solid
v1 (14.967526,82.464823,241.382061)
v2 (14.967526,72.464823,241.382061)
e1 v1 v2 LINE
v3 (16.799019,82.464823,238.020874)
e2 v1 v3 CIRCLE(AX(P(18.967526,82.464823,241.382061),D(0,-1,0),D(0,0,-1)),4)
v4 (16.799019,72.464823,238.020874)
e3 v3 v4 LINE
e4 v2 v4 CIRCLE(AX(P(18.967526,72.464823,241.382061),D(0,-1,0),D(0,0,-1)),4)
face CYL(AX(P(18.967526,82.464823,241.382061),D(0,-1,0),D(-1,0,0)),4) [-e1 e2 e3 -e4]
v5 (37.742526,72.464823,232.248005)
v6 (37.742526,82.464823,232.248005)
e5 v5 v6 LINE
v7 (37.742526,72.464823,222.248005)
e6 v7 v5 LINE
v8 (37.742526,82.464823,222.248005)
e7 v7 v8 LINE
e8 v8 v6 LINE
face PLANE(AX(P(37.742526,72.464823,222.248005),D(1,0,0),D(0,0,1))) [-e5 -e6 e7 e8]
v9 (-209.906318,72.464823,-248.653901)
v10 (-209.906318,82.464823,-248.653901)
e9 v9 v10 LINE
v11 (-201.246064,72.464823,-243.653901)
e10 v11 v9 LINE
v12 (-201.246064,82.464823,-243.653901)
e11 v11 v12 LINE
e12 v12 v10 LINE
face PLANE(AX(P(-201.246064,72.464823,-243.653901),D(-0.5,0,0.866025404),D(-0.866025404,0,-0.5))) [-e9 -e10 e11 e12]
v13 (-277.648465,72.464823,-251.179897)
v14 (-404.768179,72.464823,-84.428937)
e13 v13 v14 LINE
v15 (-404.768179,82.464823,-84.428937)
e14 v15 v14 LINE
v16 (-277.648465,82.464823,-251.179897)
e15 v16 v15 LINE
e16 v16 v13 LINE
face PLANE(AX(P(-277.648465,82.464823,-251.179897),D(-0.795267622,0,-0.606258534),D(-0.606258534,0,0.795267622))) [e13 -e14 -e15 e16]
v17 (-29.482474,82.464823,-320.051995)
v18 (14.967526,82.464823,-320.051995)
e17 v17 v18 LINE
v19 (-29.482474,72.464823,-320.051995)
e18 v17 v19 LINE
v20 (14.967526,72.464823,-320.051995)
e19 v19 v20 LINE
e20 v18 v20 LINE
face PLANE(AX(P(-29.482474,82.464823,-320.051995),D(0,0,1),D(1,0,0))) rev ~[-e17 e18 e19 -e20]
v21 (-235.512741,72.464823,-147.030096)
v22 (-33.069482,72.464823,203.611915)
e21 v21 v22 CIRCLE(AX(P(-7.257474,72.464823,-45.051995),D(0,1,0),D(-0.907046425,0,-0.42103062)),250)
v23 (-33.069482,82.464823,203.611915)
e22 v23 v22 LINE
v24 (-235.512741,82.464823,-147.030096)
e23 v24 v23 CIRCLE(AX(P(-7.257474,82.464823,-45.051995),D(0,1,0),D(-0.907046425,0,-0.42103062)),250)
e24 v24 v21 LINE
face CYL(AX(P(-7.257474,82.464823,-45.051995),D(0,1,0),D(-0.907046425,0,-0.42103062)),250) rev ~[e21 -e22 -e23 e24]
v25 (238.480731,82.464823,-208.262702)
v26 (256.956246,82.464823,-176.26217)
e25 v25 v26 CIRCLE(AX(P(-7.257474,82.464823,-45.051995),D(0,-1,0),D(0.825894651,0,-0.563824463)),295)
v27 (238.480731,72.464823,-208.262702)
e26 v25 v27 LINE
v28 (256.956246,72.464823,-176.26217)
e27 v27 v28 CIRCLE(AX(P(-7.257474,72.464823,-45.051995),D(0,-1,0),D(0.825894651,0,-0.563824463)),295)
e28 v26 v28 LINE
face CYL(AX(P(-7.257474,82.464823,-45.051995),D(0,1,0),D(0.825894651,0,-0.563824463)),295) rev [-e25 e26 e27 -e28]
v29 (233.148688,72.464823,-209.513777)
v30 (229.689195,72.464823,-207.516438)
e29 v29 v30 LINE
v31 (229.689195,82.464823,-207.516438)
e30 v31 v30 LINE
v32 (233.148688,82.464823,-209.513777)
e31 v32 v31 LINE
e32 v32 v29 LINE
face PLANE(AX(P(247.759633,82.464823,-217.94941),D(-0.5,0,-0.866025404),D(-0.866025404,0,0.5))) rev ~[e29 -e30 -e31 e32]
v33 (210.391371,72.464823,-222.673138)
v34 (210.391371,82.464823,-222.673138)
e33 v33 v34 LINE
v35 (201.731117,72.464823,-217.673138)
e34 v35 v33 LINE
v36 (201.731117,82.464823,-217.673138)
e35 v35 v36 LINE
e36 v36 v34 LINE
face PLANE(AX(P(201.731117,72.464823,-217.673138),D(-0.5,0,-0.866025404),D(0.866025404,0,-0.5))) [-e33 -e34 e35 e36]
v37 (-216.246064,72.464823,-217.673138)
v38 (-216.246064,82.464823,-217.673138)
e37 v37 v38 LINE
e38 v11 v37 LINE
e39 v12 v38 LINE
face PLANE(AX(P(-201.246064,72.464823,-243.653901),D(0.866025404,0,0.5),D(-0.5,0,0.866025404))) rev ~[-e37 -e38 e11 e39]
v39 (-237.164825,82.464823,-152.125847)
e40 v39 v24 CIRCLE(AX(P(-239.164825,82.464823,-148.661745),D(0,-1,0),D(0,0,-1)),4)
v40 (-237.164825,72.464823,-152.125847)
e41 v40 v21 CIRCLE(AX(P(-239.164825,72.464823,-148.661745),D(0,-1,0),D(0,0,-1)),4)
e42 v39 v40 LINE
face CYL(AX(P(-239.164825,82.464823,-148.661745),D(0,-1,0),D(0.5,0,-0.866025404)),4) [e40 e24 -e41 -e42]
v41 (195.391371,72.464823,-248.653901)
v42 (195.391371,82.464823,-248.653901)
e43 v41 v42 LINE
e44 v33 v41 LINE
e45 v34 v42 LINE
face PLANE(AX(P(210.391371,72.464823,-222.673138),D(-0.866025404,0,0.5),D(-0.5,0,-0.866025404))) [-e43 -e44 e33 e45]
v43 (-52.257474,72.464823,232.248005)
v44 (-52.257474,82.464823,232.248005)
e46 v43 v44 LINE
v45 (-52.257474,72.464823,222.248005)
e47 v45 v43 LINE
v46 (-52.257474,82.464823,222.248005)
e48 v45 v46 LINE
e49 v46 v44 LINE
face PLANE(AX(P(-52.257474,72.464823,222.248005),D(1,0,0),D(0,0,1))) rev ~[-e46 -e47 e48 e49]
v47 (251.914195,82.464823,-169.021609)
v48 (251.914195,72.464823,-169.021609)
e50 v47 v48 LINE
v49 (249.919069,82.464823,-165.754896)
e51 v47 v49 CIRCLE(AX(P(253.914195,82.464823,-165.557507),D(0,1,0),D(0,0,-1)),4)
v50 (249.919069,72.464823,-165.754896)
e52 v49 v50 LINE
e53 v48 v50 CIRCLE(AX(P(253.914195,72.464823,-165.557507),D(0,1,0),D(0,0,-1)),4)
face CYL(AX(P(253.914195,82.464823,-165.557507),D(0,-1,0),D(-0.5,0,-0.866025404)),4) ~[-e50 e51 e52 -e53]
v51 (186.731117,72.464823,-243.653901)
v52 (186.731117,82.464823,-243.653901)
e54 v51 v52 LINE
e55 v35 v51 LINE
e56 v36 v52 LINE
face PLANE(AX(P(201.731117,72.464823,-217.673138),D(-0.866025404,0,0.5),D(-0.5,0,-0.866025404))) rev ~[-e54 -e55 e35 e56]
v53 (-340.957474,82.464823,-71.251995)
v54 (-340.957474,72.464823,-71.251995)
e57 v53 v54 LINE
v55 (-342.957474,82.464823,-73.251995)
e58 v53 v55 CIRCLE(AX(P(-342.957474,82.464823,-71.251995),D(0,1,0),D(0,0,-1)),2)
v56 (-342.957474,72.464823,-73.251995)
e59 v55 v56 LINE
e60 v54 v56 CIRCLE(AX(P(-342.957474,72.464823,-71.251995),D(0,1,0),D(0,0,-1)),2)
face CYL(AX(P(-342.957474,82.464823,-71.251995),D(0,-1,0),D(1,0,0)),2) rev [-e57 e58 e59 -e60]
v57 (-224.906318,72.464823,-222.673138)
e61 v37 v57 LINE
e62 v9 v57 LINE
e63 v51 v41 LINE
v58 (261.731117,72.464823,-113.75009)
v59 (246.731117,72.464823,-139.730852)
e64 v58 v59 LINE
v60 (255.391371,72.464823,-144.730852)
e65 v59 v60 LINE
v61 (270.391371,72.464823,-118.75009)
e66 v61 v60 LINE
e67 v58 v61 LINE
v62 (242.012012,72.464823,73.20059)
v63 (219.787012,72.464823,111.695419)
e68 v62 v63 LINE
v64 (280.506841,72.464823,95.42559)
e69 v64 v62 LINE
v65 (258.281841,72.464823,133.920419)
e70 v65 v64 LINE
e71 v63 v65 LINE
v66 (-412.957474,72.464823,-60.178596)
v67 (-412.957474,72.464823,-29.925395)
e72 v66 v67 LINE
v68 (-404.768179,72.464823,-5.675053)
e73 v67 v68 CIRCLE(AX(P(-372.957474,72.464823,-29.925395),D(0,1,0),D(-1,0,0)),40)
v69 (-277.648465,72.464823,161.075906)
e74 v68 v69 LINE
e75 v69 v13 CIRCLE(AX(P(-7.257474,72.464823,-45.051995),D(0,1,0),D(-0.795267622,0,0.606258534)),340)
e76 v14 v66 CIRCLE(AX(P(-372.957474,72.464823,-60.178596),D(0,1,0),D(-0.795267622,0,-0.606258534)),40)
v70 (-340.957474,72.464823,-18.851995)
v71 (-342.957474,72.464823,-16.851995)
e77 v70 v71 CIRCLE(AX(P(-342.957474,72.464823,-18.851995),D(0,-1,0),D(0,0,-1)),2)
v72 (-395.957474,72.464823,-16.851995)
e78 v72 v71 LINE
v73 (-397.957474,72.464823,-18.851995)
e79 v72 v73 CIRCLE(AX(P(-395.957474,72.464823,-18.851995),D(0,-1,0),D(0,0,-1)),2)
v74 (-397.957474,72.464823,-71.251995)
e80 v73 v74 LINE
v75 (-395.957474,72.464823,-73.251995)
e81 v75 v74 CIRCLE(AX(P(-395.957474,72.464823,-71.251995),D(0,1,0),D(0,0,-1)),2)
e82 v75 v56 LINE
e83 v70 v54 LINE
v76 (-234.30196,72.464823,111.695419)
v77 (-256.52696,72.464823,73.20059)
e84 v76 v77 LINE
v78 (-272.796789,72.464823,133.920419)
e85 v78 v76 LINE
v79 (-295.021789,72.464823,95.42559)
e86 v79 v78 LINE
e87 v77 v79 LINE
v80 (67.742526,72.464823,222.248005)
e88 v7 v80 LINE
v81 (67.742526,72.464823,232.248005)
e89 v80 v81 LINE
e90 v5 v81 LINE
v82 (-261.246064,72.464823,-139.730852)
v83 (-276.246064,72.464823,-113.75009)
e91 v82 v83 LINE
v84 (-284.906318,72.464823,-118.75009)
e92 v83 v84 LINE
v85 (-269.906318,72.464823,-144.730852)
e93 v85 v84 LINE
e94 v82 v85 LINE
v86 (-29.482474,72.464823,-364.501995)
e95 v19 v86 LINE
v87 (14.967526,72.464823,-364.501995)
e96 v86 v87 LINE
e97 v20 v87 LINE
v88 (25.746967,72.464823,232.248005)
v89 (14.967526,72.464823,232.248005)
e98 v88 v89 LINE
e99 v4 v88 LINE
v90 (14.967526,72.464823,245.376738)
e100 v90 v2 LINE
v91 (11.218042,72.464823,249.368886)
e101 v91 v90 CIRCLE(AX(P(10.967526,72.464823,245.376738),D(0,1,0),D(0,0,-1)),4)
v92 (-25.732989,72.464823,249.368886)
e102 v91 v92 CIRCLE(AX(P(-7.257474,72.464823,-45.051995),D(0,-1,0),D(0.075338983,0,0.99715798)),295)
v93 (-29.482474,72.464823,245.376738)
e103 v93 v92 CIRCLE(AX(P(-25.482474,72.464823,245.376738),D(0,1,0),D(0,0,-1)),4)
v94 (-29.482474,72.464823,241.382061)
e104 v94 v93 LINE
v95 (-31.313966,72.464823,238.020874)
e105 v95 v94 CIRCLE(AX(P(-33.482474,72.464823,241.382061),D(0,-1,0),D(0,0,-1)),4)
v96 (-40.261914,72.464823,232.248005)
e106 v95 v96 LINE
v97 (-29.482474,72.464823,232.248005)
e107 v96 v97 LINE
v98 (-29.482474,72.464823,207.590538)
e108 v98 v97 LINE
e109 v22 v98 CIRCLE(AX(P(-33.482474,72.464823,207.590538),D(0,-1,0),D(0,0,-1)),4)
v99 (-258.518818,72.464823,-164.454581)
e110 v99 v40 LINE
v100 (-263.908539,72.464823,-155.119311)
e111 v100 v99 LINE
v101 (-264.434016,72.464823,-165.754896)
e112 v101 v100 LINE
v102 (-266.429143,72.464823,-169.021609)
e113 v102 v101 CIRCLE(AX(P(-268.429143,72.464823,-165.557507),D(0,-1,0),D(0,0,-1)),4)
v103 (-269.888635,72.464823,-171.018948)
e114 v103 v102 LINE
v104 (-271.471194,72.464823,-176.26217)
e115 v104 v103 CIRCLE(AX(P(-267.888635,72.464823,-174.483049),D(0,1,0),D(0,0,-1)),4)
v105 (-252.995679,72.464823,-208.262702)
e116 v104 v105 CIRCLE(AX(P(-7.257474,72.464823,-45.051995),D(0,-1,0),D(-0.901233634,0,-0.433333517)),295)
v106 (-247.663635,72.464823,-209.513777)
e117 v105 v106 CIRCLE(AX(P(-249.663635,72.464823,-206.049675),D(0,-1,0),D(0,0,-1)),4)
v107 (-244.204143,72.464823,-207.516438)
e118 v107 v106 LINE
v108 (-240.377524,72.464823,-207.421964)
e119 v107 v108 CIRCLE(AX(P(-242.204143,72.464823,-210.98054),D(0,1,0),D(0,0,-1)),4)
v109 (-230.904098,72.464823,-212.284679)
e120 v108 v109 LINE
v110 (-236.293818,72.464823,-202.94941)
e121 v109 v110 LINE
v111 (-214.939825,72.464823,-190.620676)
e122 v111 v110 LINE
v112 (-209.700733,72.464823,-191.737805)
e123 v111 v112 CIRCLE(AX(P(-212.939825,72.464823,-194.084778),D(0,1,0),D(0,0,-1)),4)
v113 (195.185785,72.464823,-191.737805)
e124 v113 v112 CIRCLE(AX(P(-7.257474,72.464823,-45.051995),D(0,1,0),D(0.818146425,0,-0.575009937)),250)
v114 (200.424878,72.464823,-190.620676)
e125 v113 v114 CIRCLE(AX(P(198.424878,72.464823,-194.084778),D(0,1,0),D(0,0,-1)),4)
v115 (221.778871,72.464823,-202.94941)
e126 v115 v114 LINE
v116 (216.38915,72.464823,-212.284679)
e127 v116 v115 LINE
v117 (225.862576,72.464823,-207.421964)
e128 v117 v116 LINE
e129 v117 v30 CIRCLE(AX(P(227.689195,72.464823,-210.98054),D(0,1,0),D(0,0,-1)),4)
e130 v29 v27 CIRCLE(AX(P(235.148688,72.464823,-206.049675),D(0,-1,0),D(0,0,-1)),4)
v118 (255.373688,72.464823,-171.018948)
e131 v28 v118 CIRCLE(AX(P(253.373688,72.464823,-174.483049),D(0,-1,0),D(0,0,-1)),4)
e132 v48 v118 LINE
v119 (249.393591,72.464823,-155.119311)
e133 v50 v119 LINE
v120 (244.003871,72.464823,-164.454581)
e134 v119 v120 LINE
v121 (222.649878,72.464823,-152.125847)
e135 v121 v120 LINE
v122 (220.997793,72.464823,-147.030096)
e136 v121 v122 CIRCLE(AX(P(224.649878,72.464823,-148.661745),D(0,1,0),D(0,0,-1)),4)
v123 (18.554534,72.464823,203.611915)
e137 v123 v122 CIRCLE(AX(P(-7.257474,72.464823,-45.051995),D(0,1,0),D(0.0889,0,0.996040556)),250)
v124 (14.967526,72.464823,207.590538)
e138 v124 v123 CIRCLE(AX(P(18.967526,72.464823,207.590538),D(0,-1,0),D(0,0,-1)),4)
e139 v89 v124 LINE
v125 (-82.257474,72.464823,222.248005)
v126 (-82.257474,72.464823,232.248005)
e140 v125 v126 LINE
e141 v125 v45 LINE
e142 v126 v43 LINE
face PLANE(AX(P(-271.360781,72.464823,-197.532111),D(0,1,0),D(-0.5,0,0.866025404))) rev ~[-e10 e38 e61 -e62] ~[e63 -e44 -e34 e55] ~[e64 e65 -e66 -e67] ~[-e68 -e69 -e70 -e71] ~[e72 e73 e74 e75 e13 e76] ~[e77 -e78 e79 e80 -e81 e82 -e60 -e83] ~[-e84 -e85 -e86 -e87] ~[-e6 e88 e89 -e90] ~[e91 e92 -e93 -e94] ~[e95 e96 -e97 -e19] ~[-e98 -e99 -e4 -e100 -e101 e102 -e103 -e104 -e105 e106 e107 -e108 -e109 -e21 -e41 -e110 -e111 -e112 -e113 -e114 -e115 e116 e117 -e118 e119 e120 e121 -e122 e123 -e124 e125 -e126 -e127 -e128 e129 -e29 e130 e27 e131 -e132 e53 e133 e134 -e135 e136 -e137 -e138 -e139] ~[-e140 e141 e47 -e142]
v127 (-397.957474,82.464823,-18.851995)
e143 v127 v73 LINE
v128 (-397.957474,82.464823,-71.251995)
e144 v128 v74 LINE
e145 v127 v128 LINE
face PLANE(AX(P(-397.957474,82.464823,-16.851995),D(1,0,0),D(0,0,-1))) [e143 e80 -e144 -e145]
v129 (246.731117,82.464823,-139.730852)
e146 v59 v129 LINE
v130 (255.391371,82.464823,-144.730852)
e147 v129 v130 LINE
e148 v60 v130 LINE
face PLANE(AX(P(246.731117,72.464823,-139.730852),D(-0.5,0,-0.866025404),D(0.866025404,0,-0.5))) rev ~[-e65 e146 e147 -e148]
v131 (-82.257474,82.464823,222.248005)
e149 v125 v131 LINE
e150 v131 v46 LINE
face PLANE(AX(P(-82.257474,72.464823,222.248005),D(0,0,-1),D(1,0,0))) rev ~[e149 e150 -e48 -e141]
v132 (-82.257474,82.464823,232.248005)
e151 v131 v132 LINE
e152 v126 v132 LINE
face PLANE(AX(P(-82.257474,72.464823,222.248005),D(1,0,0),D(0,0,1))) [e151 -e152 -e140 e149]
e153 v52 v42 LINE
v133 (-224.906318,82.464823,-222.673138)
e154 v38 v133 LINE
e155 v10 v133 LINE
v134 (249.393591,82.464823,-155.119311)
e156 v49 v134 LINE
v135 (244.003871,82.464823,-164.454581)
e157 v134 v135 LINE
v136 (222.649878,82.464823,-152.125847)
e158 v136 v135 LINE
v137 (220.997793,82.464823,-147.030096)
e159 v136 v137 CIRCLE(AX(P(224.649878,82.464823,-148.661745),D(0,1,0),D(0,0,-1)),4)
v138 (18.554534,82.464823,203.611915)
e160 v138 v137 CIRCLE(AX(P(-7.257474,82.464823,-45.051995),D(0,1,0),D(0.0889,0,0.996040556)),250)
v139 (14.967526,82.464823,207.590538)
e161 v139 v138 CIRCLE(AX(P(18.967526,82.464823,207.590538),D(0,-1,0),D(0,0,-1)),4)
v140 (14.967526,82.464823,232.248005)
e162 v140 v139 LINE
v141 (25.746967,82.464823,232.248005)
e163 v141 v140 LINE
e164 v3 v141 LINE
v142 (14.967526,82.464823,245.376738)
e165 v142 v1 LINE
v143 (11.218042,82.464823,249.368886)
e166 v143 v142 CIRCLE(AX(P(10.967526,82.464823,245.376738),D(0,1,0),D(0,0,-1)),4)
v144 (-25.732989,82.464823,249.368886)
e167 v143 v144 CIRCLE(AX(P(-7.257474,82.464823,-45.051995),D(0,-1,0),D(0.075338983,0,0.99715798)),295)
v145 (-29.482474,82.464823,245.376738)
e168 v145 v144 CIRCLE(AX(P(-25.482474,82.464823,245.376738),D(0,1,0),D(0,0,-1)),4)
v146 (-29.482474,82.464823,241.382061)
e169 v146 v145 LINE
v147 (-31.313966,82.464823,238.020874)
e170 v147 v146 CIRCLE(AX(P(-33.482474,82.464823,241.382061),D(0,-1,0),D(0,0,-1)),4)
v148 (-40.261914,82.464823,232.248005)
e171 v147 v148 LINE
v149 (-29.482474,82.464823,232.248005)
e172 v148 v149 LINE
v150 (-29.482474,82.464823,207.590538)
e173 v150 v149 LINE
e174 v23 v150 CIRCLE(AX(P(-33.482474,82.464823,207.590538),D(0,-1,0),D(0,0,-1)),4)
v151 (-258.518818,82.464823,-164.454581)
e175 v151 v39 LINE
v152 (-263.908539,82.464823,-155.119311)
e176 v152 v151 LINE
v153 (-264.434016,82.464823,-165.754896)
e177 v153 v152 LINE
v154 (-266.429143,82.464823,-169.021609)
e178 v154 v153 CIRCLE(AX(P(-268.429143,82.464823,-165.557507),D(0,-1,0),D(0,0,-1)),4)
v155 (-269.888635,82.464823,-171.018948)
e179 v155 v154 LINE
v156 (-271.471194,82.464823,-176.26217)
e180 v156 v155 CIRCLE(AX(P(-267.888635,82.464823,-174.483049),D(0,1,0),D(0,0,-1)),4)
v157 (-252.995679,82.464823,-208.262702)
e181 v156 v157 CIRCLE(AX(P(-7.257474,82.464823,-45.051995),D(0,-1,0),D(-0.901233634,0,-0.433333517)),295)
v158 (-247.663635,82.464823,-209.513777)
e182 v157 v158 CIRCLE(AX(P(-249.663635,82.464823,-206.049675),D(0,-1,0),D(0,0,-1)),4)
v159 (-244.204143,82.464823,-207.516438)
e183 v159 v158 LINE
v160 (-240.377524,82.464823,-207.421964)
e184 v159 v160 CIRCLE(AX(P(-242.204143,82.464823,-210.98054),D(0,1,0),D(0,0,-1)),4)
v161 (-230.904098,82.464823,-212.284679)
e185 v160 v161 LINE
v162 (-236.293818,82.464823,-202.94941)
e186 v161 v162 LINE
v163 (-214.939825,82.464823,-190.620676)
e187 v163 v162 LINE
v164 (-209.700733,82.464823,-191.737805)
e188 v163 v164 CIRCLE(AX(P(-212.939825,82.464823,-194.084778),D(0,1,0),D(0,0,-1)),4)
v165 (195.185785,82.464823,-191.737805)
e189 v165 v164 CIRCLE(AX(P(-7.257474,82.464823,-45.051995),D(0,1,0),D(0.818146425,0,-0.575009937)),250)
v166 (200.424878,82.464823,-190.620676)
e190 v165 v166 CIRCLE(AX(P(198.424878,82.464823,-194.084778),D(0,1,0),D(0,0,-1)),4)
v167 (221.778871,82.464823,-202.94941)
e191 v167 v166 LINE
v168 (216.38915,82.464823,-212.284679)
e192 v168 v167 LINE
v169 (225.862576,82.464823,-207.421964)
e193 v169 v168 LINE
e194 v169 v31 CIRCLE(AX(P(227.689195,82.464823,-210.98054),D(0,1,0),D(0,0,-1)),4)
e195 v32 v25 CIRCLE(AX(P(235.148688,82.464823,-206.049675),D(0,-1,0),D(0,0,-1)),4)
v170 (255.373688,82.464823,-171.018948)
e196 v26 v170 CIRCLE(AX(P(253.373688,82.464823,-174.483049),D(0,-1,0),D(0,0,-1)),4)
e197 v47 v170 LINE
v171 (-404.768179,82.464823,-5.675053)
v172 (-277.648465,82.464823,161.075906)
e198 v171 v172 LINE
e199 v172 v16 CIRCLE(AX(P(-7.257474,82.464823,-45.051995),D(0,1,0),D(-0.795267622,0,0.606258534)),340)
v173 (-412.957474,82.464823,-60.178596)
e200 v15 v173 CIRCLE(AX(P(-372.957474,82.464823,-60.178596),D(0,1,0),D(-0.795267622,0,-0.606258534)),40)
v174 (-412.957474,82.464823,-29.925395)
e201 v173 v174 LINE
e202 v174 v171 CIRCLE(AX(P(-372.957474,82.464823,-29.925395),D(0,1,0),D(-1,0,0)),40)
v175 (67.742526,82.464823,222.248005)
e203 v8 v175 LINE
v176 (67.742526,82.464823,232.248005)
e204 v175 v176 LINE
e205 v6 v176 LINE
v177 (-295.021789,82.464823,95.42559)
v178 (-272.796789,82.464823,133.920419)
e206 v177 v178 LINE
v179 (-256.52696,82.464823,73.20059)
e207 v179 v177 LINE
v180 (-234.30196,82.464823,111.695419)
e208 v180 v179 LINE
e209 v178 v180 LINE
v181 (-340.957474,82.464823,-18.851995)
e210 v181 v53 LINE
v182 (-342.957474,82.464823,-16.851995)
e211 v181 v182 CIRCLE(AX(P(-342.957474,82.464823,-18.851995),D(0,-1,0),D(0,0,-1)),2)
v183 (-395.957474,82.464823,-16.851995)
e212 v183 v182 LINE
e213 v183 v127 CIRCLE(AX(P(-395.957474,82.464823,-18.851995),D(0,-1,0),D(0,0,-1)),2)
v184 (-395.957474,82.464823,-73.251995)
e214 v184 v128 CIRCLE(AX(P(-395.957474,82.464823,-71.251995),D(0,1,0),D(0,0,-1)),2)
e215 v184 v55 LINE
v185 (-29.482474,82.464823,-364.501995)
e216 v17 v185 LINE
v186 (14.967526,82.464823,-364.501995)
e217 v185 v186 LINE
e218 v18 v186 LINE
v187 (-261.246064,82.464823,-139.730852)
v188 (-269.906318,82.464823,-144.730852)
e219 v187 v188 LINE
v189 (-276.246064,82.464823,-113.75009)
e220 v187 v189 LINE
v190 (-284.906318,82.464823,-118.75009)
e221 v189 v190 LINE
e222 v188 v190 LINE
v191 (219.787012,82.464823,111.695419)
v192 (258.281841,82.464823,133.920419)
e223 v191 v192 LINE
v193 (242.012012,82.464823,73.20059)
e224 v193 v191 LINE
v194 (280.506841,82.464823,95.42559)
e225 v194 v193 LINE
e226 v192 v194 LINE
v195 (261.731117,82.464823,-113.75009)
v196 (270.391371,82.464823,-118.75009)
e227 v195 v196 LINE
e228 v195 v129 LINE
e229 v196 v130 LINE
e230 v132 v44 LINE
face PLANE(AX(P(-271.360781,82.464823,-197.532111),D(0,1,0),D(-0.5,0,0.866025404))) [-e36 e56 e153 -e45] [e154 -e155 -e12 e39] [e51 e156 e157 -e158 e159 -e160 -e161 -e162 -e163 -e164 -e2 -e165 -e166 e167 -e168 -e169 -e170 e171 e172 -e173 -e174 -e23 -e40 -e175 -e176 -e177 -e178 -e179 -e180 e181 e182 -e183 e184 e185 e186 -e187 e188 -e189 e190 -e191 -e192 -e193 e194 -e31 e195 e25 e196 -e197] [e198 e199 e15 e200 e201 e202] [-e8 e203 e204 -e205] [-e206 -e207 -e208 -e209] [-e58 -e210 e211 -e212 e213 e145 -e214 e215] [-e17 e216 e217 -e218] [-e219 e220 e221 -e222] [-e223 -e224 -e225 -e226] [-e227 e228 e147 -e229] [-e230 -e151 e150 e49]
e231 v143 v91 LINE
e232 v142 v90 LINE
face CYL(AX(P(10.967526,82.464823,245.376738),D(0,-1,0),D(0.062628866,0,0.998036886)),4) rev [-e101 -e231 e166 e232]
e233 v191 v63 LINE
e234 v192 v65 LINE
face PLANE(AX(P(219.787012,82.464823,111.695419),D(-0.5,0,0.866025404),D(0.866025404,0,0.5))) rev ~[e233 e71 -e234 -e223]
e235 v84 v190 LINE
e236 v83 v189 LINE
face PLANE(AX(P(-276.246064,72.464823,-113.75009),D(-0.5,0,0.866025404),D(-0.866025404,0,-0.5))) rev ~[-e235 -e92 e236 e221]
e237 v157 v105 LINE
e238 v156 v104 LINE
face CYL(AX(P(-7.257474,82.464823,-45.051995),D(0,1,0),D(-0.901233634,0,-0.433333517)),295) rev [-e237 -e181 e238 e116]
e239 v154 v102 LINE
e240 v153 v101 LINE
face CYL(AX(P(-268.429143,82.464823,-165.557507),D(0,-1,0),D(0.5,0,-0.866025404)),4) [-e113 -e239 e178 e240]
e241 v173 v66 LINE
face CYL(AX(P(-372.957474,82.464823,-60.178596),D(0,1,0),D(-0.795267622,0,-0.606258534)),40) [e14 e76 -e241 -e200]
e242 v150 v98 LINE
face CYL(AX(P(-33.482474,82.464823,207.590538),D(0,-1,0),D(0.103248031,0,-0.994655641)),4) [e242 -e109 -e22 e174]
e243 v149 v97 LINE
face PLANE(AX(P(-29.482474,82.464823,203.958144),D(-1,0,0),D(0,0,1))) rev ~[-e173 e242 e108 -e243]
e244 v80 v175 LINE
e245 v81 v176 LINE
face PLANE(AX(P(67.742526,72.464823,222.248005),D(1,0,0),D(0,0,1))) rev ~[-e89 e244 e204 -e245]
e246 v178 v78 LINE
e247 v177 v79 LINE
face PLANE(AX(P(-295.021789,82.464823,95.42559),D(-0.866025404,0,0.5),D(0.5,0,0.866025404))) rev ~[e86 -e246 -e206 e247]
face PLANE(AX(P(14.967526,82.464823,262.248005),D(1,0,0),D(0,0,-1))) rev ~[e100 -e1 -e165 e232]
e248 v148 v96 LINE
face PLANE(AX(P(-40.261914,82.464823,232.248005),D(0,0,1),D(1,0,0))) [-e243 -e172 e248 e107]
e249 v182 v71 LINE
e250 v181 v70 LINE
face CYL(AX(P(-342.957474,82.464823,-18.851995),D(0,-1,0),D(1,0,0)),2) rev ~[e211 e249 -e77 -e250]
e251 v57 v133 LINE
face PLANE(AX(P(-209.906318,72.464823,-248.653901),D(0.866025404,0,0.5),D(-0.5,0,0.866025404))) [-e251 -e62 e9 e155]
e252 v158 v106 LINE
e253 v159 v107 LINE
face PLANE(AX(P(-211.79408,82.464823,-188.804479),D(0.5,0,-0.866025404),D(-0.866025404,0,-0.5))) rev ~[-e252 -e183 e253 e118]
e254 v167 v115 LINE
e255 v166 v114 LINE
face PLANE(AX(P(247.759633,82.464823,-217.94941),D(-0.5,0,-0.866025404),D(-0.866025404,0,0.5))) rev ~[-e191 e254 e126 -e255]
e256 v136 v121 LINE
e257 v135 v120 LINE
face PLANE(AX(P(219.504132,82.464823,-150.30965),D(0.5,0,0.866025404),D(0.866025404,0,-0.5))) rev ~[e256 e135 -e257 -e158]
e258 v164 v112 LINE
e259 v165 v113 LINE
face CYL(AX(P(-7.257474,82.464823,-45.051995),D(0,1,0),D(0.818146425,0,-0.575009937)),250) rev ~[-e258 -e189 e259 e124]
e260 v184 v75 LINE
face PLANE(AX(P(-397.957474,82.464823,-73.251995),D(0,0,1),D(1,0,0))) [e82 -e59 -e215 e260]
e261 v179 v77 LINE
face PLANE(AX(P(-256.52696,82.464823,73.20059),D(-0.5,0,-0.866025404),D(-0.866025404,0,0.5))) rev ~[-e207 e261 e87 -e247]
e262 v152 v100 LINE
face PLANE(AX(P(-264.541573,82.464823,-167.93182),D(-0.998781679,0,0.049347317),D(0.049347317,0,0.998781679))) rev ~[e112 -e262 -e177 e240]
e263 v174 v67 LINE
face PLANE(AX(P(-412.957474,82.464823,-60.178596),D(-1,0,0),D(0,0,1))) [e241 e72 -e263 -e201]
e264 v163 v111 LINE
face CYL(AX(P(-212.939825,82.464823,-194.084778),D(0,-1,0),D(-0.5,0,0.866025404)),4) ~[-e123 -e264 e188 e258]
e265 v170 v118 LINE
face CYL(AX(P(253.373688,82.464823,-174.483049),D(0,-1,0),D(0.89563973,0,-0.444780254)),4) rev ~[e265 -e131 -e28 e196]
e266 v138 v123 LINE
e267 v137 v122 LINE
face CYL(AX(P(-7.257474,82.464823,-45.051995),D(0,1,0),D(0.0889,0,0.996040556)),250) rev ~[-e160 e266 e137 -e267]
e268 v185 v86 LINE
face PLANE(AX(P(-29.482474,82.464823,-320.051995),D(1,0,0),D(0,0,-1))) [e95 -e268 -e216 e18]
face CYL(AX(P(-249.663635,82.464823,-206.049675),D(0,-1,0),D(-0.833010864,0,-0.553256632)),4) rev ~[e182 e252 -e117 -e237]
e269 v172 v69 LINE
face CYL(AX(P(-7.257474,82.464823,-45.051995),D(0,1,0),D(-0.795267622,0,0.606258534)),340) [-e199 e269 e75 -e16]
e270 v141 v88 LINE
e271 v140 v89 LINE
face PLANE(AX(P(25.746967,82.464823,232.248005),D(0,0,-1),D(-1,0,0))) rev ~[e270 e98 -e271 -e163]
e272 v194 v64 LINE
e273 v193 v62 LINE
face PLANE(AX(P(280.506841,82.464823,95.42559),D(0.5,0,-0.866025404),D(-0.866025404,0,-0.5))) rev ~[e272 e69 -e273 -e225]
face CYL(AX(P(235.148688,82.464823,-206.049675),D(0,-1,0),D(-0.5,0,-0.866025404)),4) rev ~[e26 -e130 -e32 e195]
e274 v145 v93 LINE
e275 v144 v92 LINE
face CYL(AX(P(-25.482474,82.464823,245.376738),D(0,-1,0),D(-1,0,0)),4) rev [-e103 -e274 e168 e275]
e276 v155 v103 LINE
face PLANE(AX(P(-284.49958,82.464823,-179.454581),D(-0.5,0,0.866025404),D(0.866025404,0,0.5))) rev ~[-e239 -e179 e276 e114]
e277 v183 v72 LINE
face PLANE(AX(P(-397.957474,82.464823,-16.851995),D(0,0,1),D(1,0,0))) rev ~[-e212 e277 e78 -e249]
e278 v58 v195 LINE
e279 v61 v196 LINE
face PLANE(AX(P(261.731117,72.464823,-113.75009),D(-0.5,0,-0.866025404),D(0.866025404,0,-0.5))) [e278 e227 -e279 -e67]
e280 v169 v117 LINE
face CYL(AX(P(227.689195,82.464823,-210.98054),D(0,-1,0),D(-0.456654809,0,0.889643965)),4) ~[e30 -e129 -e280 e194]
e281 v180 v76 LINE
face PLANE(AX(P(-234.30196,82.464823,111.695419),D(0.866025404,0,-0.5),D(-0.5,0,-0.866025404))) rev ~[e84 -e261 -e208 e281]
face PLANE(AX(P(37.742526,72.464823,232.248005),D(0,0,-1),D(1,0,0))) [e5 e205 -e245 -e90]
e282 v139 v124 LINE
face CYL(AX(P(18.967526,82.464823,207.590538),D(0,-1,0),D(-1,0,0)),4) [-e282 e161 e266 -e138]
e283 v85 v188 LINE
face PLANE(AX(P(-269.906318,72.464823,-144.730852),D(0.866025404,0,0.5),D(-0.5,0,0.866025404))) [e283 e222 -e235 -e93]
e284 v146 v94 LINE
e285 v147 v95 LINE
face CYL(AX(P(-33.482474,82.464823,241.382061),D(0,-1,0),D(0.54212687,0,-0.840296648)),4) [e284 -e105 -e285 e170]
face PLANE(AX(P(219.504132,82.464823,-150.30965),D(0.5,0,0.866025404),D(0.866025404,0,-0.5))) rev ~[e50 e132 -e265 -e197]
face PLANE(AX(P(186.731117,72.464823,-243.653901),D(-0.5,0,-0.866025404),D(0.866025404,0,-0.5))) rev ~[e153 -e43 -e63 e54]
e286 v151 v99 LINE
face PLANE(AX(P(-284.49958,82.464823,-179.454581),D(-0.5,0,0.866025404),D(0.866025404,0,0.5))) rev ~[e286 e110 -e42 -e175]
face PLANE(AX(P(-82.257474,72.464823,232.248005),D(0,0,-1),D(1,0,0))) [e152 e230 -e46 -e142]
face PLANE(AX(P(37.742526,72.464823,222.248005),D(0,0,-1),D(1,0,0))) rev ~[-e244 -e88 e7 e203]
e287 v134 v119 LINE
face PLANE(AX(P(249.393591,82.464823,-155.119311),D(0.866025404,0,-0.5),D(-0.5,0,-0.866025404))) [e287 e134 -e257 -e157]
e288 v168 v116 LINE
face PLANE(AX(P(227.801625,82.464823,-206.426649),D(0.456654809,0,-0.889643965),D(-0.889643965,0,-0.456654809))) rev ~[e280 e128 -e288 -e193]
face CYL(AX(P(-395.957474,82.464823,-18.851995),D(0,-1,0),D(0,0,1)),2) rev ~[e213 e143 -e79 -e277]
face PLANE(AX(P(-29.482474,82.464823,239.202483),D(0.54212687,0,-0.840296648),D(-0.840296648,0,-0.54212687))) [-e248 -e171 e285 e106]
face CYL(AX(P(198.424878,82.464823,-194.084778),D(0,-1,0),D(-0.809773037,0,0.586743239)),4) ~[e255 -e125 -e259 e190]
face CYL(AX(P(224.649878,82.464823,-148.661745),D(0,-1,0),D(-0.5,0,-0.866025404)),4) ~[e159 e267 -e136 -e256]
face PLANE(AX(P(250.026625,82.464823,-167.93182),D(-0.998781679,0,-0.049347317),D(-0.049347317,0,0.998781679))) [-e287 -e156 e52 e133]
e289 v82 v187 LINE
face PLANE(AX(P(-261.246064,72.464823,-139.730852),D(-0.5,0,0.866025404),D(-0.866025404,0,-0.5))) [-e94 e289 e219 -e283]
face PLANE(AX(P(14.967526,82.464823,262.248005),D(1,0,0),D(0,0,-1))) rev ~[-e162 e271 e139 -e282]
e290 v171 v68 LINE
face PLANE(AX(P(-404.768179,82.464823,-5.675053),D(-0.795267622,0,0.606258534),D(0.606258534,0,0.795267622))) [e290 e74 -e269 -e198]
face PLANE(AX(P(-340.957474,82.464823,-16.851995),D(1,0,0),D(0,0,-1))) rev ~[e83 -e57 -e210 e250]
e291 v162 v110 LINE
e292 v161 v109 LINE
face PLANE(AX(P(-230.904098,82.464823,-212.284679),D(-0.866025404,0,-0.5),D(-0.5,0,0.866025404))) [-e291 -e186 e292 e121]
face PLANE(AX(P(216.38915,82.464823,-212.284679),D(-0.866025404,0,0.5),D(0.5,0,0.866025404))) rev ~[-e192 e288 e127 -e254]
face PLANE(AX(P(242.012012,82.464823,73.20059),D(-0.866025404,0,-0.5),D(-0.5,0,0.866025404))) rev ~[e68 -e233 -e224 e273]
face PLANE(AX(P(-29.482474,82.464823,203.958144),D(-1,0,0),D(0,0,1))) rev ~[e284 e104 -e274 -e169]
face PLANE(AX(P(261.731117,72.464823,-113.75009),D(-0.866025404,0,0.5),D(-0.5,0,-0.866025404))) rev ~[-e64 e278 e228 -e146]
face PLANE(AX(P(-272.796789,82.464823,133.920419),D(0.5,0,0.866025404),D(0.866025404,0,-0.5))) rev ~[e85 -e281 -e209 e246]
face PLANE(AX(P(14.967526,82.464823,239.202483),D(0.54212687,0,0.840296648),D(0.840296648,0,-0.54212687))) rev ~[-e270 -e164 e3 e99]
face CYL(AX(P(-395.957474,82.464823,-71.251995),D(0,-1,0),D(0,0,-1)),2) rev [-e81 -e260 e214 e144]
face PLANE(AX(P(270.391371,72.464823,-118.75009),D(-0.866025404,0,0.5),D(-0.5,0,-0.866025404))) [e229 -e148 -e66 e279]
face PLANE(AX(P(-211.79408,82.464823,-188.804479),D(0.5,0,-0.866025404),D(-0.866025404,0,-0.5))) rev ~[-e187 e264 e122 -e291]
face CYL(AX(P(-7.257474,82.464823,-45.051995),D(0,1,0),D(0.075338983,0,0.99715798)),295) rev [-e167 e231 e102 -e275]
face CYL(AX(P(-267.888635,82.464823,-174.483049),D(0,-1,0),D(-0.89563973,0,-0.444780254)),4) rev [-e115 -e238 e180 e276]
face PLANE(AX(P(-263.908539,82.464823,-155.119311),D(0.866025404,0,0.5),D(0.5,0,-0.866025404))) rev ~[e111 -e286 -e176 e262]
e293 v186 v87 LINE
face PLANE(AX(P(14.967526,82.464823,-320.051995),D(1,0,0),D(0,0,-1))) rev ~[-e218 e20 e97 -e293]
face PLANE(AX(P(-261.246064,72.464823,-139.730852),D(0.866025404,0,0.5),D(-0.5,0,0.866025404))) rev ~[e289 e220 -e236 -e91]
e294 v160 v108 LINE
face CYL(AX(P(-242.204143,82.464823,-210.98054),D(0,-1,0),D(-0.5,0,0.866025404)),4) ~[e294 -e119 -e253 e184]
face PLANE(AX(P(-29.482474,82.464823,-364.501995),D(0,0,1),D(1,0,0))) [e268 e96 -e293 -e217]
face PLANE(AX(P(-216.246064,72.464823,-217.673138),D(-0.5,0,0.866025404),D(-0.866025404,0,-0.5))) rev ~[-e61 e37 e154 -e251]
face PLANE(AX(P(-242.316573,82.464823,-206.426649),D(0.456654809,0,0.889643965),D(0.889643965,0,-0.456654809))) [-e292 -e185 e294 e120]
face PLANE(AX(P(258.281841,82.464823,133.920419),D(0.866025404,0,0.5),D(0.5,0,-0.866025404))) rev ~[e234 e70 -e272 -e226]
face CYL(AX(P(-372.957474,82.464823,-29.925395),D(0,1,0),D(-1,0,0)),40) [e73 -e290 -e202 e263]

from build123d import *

# Parameters (mm, degrees)
SKETCH1_W           = 44.45
SKETCH1_H           = 44.45
SKETCH1_W_2         = 57
SKETCH1_H_2         = 56.4
BOSS_EXTRUDE1_DEPTH = 10
CUT_EXTRUDE1_DEPTH  = 10
CIRPATTERN1_COUNT   = 3
BOSS_EXTRUDE2_DEPTH = 10
CIRPATTERN2_COUNT   = 3
SKETCH7_W           = 30
SKETCH7_H           = 10
CUT_EXTRUDE2_DEPTH  = 10
CIRPATTERN3_COUNT   = 3
FILLET1_R           = 4
FILLET2_R           = 2


with BuildPart() as part:
    # Sketch1 → Boss-Extrude1 (new body)
    with BuildSketch(Plane(origin=(0, 82.464823413, 0), x_dir=(1, 0, 0), z_dir=(0, 1, 0))):
        with BuildLine():
            Line((-412.957473883, 60.178595798), (-412.957473883, 29.92539468))
            ThreePointArc((-412.957473883, 29.92539468), (-410.854889329, 17.127508038), (-404.768178759, 5.675053336))
            Line((-404.768178759, 5.675053336), (-277.648465327, -161.075906186))
            ThreePointArc((-277.648465327, -161.075906186), (332.742526117, 45.051995239), (-277.648465327, 251.179896664))
            Line((-277.648465327, 251.179896664), (-404.768178759, 84.428937143))
            ThreePointArc((-404.768178759, 84.428937143), (-410.854889329, 72.97648244), (-412.957473883, 60.178595798))
        make_face()
        with BuildLine():
            ThreePointArc((-234.019080144, 150.30965019), (-223.763824829, -79.948004761), (-29.482473883, -203.958143862))
            Line((-29.482473883, -203.958143862), (-29.482473883, -262.248004761))
            Line((-29.482473883, -262.248004761), (14.967526117, -262.248004761))
            Line((14.967526117, -262.248004761), (14.967526117, -203.958143862))
            ThreePointArc((14.967526117, -203.958143862), (209.248877063, -79.948004761), (219.504132378, 150.30965019))
            Line((219.504132378, 150.30965019), (269.9846327, 179.45458064))
            Line((269.9846327, 179.45458064), (247.7596327, 217.949409838))
            Line((247.7596327, 217.949409838), (197.279132378, 188.804479389))
            ThreePointArc((197.279132378, 188.804479389), (-7.257473883, 295.051995239), (-211.794080144, 188.804479389))
            Line((-211.794080144, 188.804479389), (-262.274580466, 217.949409838))
            Line((-262.274580466, 217.949409838), (-284.499580466, 179.45458064))
            Line((-284.499580466, 179.45458064), (-234.019080144, 150.30965019))
        make_face(mode=Mode.SUBTRACT)
        with Locations((-7.257473883, 342.276995239)):
            Rectangle(SKETCH1_W, SKETCH1_H, mode=Mode.SUBTRACT)
        Polygon((-272.796789122, -133.92041936), (-234.301959924, -111.69541936), (-256.526959924, -73.200590162), (-295.021789122, -95.425590162), align=None, mode=Mode.SUBTRACT)
        with Locations((-369.457473883, 45.051995239)):
            Rectangle(SKETCH1_W_2, SKETCH1_H_2, mode=Mode.SUBTRACT)
        Polygon((219.787012158, -111.69541936), (258.281841356, -133.92041936), (280.506841356, -95.425590162), (242.012012158, -73.200590162), align=None, mode=Mode.SUBTRACT)
    extrude(amount=-BOSS_EXTRUDE1_DEPTH)

    # Sketch5 → Cut-Extrude1 (cut)
    with BuildSketch(Plane(origin=(0, 82.464823413, 0), x_dir=(1, 0, 0), z_dir=(0, 1, 0))):
        Polygon((14.967526117, -239.202482577), (25.746966731, -232.248004761), (14.967526117, -232.248004761), align=None)
        Polygon((-40.261914497, -232.248004761), (-29.482473883, -232.248004761), (-29.482473883, -239.202482577), align=None)
    cut_extrude1 = extrude(amount=-CUT_EXTRUDE1_DEPTH, mode=Mode.SUBTRACT)

    # CirPattern1: Cut-Extrude1 ×3 about axis
    cirpattern1_axis = Axis((-7.257473883, 0, -45.051995239), (0, 1, 0))
    for i in range(1, CIRPATTERN1_COUNT):
        add(cut_extrude1.rotate(cirpattern1_axis, i * 360 / CIRPATTERN1_COUNT), mode=Mode.SUBTRACT)

    # Sketch6 → Boss-Extrude2 (add)
    with BuildSketch(Plane(origin=(0, 82.464823413, 0), x_dir=(1, 0, 0), z_dir=(0, 1, 0))):
        with BuildLine():
            Line((-29.482473883, -249.109608943), (-29.482473883, -270.376708747))
            Line((-29.482473883, -270.376708747), (14.967526117, -270.376708747))
            Line((14.967526117, -270.376708747), (14.967526117, -249.109608943))
            ThreePointArc((14.967526117, -249.109608943), (-7.257473883, -249.948004761), (-29.482473883, -249.109608943))
        make_face()
    boss_extrude2 = extrude(amount=-BOSS_EXTRUDE2_DEPTH)

    # CirPattern2: Boss-Extrude2 ×3 about axis
    cirpattern2_axis = Axis((-7.257473883, 72.464823413, -45.051995239), (0, 1, 0))
    for i in range(1, CIRPATTERN2_COUNT):
        add(boss_extrude2.rotate(cirpattern2_axis, i * 360 / CIRPATTERN2_COUNT))

    # Sketch7 → Cut-Extrude2 (cut)
    with BuildSketch(Plane.XZ.offset(-72.464823413)):
        with Locations((52.742526117, 227.248004761)):
            Rectangle(SKETCH7_W, SKETCH7_H)
        with Locations((-67.257473883, 227.248004761)):
            Rectangle(SKETCH7_W, SKETCH7_H)
    cut_extrude2 = extrude(amount=-CUT_EXTRUDE2_DEPTH, mode=Mode.SUBTRACT)

    # CirPattern3: Cut-Extrude2 ×3 about axis
    cirpattern3_axis = Axis((-7.257473883, 0, -45.051995239), (0, 1, 0))
    for i in range(1, CIRPATTERN3_COUNT):
        add(cut_extrude2.rotate(cirpattern3_axis, i * 360 / CIRPATTERN3_COUNT), mode=Mode.SUBTRACT)

    # Fillet1
    fillet1_edges = [part.edges().sort_by_distance(p)[0] for p in [
        (-29.482473883, 77.464823413, 239.202482577),
        (14.967526117, 77.464823413, 239.202482577),
        (250.026625045, 77.464823413, -167.931819548),
        (227.801625045, 77.464823413, -206.426648746),
        (-242.316572811, 77.464823413, -206.426648746),
        (-264.541572811, 77.464823413, -167.931819548),
        (14.967526117, 77.464823413, 249.109608943),
        (-29.482473883, 77.464823413, 249.109608943),
        (258.606448157, 77.464823413, -172.885382731),
        (236.381448157, 77.464823413, -211.380211929),
        (-273.121395923, 77.464823413, -172.885382731),
        (-250.896395923, 77.464823413, -211.380211929),
        (-29.482473883, 77.464823413, 203.958143862),
        (14.967526117, 77.464823413, 203.958143862),
        (219.504132378, 77.464823413, -150.30965019),
        (197.279132378, 77.464823413, -188.804479389),
        (-211.794080144, 77.464823413, -188.804479389),
        (-234.019080144, 77.464823413, -150.30965019),
    ]]
    fillet(fillet1_edges, radius=FILLET1_R)

    # Fillet2
    fillet2_edges = [part.edges().sort_by_distance(p)[0] for p in [
        (-397.957473883, 77.464823413, -73.251995239),
        (-397.957473883, 77.464823413, -16.851995239),
        (-340.957473883, 77.464823413, -16.851995239),
        (-340.957473883, 77.464823413, -73.251995239),
    ]]
    fillet(fillet2_edges, radius=FILLET2_R)


solid = part.part
